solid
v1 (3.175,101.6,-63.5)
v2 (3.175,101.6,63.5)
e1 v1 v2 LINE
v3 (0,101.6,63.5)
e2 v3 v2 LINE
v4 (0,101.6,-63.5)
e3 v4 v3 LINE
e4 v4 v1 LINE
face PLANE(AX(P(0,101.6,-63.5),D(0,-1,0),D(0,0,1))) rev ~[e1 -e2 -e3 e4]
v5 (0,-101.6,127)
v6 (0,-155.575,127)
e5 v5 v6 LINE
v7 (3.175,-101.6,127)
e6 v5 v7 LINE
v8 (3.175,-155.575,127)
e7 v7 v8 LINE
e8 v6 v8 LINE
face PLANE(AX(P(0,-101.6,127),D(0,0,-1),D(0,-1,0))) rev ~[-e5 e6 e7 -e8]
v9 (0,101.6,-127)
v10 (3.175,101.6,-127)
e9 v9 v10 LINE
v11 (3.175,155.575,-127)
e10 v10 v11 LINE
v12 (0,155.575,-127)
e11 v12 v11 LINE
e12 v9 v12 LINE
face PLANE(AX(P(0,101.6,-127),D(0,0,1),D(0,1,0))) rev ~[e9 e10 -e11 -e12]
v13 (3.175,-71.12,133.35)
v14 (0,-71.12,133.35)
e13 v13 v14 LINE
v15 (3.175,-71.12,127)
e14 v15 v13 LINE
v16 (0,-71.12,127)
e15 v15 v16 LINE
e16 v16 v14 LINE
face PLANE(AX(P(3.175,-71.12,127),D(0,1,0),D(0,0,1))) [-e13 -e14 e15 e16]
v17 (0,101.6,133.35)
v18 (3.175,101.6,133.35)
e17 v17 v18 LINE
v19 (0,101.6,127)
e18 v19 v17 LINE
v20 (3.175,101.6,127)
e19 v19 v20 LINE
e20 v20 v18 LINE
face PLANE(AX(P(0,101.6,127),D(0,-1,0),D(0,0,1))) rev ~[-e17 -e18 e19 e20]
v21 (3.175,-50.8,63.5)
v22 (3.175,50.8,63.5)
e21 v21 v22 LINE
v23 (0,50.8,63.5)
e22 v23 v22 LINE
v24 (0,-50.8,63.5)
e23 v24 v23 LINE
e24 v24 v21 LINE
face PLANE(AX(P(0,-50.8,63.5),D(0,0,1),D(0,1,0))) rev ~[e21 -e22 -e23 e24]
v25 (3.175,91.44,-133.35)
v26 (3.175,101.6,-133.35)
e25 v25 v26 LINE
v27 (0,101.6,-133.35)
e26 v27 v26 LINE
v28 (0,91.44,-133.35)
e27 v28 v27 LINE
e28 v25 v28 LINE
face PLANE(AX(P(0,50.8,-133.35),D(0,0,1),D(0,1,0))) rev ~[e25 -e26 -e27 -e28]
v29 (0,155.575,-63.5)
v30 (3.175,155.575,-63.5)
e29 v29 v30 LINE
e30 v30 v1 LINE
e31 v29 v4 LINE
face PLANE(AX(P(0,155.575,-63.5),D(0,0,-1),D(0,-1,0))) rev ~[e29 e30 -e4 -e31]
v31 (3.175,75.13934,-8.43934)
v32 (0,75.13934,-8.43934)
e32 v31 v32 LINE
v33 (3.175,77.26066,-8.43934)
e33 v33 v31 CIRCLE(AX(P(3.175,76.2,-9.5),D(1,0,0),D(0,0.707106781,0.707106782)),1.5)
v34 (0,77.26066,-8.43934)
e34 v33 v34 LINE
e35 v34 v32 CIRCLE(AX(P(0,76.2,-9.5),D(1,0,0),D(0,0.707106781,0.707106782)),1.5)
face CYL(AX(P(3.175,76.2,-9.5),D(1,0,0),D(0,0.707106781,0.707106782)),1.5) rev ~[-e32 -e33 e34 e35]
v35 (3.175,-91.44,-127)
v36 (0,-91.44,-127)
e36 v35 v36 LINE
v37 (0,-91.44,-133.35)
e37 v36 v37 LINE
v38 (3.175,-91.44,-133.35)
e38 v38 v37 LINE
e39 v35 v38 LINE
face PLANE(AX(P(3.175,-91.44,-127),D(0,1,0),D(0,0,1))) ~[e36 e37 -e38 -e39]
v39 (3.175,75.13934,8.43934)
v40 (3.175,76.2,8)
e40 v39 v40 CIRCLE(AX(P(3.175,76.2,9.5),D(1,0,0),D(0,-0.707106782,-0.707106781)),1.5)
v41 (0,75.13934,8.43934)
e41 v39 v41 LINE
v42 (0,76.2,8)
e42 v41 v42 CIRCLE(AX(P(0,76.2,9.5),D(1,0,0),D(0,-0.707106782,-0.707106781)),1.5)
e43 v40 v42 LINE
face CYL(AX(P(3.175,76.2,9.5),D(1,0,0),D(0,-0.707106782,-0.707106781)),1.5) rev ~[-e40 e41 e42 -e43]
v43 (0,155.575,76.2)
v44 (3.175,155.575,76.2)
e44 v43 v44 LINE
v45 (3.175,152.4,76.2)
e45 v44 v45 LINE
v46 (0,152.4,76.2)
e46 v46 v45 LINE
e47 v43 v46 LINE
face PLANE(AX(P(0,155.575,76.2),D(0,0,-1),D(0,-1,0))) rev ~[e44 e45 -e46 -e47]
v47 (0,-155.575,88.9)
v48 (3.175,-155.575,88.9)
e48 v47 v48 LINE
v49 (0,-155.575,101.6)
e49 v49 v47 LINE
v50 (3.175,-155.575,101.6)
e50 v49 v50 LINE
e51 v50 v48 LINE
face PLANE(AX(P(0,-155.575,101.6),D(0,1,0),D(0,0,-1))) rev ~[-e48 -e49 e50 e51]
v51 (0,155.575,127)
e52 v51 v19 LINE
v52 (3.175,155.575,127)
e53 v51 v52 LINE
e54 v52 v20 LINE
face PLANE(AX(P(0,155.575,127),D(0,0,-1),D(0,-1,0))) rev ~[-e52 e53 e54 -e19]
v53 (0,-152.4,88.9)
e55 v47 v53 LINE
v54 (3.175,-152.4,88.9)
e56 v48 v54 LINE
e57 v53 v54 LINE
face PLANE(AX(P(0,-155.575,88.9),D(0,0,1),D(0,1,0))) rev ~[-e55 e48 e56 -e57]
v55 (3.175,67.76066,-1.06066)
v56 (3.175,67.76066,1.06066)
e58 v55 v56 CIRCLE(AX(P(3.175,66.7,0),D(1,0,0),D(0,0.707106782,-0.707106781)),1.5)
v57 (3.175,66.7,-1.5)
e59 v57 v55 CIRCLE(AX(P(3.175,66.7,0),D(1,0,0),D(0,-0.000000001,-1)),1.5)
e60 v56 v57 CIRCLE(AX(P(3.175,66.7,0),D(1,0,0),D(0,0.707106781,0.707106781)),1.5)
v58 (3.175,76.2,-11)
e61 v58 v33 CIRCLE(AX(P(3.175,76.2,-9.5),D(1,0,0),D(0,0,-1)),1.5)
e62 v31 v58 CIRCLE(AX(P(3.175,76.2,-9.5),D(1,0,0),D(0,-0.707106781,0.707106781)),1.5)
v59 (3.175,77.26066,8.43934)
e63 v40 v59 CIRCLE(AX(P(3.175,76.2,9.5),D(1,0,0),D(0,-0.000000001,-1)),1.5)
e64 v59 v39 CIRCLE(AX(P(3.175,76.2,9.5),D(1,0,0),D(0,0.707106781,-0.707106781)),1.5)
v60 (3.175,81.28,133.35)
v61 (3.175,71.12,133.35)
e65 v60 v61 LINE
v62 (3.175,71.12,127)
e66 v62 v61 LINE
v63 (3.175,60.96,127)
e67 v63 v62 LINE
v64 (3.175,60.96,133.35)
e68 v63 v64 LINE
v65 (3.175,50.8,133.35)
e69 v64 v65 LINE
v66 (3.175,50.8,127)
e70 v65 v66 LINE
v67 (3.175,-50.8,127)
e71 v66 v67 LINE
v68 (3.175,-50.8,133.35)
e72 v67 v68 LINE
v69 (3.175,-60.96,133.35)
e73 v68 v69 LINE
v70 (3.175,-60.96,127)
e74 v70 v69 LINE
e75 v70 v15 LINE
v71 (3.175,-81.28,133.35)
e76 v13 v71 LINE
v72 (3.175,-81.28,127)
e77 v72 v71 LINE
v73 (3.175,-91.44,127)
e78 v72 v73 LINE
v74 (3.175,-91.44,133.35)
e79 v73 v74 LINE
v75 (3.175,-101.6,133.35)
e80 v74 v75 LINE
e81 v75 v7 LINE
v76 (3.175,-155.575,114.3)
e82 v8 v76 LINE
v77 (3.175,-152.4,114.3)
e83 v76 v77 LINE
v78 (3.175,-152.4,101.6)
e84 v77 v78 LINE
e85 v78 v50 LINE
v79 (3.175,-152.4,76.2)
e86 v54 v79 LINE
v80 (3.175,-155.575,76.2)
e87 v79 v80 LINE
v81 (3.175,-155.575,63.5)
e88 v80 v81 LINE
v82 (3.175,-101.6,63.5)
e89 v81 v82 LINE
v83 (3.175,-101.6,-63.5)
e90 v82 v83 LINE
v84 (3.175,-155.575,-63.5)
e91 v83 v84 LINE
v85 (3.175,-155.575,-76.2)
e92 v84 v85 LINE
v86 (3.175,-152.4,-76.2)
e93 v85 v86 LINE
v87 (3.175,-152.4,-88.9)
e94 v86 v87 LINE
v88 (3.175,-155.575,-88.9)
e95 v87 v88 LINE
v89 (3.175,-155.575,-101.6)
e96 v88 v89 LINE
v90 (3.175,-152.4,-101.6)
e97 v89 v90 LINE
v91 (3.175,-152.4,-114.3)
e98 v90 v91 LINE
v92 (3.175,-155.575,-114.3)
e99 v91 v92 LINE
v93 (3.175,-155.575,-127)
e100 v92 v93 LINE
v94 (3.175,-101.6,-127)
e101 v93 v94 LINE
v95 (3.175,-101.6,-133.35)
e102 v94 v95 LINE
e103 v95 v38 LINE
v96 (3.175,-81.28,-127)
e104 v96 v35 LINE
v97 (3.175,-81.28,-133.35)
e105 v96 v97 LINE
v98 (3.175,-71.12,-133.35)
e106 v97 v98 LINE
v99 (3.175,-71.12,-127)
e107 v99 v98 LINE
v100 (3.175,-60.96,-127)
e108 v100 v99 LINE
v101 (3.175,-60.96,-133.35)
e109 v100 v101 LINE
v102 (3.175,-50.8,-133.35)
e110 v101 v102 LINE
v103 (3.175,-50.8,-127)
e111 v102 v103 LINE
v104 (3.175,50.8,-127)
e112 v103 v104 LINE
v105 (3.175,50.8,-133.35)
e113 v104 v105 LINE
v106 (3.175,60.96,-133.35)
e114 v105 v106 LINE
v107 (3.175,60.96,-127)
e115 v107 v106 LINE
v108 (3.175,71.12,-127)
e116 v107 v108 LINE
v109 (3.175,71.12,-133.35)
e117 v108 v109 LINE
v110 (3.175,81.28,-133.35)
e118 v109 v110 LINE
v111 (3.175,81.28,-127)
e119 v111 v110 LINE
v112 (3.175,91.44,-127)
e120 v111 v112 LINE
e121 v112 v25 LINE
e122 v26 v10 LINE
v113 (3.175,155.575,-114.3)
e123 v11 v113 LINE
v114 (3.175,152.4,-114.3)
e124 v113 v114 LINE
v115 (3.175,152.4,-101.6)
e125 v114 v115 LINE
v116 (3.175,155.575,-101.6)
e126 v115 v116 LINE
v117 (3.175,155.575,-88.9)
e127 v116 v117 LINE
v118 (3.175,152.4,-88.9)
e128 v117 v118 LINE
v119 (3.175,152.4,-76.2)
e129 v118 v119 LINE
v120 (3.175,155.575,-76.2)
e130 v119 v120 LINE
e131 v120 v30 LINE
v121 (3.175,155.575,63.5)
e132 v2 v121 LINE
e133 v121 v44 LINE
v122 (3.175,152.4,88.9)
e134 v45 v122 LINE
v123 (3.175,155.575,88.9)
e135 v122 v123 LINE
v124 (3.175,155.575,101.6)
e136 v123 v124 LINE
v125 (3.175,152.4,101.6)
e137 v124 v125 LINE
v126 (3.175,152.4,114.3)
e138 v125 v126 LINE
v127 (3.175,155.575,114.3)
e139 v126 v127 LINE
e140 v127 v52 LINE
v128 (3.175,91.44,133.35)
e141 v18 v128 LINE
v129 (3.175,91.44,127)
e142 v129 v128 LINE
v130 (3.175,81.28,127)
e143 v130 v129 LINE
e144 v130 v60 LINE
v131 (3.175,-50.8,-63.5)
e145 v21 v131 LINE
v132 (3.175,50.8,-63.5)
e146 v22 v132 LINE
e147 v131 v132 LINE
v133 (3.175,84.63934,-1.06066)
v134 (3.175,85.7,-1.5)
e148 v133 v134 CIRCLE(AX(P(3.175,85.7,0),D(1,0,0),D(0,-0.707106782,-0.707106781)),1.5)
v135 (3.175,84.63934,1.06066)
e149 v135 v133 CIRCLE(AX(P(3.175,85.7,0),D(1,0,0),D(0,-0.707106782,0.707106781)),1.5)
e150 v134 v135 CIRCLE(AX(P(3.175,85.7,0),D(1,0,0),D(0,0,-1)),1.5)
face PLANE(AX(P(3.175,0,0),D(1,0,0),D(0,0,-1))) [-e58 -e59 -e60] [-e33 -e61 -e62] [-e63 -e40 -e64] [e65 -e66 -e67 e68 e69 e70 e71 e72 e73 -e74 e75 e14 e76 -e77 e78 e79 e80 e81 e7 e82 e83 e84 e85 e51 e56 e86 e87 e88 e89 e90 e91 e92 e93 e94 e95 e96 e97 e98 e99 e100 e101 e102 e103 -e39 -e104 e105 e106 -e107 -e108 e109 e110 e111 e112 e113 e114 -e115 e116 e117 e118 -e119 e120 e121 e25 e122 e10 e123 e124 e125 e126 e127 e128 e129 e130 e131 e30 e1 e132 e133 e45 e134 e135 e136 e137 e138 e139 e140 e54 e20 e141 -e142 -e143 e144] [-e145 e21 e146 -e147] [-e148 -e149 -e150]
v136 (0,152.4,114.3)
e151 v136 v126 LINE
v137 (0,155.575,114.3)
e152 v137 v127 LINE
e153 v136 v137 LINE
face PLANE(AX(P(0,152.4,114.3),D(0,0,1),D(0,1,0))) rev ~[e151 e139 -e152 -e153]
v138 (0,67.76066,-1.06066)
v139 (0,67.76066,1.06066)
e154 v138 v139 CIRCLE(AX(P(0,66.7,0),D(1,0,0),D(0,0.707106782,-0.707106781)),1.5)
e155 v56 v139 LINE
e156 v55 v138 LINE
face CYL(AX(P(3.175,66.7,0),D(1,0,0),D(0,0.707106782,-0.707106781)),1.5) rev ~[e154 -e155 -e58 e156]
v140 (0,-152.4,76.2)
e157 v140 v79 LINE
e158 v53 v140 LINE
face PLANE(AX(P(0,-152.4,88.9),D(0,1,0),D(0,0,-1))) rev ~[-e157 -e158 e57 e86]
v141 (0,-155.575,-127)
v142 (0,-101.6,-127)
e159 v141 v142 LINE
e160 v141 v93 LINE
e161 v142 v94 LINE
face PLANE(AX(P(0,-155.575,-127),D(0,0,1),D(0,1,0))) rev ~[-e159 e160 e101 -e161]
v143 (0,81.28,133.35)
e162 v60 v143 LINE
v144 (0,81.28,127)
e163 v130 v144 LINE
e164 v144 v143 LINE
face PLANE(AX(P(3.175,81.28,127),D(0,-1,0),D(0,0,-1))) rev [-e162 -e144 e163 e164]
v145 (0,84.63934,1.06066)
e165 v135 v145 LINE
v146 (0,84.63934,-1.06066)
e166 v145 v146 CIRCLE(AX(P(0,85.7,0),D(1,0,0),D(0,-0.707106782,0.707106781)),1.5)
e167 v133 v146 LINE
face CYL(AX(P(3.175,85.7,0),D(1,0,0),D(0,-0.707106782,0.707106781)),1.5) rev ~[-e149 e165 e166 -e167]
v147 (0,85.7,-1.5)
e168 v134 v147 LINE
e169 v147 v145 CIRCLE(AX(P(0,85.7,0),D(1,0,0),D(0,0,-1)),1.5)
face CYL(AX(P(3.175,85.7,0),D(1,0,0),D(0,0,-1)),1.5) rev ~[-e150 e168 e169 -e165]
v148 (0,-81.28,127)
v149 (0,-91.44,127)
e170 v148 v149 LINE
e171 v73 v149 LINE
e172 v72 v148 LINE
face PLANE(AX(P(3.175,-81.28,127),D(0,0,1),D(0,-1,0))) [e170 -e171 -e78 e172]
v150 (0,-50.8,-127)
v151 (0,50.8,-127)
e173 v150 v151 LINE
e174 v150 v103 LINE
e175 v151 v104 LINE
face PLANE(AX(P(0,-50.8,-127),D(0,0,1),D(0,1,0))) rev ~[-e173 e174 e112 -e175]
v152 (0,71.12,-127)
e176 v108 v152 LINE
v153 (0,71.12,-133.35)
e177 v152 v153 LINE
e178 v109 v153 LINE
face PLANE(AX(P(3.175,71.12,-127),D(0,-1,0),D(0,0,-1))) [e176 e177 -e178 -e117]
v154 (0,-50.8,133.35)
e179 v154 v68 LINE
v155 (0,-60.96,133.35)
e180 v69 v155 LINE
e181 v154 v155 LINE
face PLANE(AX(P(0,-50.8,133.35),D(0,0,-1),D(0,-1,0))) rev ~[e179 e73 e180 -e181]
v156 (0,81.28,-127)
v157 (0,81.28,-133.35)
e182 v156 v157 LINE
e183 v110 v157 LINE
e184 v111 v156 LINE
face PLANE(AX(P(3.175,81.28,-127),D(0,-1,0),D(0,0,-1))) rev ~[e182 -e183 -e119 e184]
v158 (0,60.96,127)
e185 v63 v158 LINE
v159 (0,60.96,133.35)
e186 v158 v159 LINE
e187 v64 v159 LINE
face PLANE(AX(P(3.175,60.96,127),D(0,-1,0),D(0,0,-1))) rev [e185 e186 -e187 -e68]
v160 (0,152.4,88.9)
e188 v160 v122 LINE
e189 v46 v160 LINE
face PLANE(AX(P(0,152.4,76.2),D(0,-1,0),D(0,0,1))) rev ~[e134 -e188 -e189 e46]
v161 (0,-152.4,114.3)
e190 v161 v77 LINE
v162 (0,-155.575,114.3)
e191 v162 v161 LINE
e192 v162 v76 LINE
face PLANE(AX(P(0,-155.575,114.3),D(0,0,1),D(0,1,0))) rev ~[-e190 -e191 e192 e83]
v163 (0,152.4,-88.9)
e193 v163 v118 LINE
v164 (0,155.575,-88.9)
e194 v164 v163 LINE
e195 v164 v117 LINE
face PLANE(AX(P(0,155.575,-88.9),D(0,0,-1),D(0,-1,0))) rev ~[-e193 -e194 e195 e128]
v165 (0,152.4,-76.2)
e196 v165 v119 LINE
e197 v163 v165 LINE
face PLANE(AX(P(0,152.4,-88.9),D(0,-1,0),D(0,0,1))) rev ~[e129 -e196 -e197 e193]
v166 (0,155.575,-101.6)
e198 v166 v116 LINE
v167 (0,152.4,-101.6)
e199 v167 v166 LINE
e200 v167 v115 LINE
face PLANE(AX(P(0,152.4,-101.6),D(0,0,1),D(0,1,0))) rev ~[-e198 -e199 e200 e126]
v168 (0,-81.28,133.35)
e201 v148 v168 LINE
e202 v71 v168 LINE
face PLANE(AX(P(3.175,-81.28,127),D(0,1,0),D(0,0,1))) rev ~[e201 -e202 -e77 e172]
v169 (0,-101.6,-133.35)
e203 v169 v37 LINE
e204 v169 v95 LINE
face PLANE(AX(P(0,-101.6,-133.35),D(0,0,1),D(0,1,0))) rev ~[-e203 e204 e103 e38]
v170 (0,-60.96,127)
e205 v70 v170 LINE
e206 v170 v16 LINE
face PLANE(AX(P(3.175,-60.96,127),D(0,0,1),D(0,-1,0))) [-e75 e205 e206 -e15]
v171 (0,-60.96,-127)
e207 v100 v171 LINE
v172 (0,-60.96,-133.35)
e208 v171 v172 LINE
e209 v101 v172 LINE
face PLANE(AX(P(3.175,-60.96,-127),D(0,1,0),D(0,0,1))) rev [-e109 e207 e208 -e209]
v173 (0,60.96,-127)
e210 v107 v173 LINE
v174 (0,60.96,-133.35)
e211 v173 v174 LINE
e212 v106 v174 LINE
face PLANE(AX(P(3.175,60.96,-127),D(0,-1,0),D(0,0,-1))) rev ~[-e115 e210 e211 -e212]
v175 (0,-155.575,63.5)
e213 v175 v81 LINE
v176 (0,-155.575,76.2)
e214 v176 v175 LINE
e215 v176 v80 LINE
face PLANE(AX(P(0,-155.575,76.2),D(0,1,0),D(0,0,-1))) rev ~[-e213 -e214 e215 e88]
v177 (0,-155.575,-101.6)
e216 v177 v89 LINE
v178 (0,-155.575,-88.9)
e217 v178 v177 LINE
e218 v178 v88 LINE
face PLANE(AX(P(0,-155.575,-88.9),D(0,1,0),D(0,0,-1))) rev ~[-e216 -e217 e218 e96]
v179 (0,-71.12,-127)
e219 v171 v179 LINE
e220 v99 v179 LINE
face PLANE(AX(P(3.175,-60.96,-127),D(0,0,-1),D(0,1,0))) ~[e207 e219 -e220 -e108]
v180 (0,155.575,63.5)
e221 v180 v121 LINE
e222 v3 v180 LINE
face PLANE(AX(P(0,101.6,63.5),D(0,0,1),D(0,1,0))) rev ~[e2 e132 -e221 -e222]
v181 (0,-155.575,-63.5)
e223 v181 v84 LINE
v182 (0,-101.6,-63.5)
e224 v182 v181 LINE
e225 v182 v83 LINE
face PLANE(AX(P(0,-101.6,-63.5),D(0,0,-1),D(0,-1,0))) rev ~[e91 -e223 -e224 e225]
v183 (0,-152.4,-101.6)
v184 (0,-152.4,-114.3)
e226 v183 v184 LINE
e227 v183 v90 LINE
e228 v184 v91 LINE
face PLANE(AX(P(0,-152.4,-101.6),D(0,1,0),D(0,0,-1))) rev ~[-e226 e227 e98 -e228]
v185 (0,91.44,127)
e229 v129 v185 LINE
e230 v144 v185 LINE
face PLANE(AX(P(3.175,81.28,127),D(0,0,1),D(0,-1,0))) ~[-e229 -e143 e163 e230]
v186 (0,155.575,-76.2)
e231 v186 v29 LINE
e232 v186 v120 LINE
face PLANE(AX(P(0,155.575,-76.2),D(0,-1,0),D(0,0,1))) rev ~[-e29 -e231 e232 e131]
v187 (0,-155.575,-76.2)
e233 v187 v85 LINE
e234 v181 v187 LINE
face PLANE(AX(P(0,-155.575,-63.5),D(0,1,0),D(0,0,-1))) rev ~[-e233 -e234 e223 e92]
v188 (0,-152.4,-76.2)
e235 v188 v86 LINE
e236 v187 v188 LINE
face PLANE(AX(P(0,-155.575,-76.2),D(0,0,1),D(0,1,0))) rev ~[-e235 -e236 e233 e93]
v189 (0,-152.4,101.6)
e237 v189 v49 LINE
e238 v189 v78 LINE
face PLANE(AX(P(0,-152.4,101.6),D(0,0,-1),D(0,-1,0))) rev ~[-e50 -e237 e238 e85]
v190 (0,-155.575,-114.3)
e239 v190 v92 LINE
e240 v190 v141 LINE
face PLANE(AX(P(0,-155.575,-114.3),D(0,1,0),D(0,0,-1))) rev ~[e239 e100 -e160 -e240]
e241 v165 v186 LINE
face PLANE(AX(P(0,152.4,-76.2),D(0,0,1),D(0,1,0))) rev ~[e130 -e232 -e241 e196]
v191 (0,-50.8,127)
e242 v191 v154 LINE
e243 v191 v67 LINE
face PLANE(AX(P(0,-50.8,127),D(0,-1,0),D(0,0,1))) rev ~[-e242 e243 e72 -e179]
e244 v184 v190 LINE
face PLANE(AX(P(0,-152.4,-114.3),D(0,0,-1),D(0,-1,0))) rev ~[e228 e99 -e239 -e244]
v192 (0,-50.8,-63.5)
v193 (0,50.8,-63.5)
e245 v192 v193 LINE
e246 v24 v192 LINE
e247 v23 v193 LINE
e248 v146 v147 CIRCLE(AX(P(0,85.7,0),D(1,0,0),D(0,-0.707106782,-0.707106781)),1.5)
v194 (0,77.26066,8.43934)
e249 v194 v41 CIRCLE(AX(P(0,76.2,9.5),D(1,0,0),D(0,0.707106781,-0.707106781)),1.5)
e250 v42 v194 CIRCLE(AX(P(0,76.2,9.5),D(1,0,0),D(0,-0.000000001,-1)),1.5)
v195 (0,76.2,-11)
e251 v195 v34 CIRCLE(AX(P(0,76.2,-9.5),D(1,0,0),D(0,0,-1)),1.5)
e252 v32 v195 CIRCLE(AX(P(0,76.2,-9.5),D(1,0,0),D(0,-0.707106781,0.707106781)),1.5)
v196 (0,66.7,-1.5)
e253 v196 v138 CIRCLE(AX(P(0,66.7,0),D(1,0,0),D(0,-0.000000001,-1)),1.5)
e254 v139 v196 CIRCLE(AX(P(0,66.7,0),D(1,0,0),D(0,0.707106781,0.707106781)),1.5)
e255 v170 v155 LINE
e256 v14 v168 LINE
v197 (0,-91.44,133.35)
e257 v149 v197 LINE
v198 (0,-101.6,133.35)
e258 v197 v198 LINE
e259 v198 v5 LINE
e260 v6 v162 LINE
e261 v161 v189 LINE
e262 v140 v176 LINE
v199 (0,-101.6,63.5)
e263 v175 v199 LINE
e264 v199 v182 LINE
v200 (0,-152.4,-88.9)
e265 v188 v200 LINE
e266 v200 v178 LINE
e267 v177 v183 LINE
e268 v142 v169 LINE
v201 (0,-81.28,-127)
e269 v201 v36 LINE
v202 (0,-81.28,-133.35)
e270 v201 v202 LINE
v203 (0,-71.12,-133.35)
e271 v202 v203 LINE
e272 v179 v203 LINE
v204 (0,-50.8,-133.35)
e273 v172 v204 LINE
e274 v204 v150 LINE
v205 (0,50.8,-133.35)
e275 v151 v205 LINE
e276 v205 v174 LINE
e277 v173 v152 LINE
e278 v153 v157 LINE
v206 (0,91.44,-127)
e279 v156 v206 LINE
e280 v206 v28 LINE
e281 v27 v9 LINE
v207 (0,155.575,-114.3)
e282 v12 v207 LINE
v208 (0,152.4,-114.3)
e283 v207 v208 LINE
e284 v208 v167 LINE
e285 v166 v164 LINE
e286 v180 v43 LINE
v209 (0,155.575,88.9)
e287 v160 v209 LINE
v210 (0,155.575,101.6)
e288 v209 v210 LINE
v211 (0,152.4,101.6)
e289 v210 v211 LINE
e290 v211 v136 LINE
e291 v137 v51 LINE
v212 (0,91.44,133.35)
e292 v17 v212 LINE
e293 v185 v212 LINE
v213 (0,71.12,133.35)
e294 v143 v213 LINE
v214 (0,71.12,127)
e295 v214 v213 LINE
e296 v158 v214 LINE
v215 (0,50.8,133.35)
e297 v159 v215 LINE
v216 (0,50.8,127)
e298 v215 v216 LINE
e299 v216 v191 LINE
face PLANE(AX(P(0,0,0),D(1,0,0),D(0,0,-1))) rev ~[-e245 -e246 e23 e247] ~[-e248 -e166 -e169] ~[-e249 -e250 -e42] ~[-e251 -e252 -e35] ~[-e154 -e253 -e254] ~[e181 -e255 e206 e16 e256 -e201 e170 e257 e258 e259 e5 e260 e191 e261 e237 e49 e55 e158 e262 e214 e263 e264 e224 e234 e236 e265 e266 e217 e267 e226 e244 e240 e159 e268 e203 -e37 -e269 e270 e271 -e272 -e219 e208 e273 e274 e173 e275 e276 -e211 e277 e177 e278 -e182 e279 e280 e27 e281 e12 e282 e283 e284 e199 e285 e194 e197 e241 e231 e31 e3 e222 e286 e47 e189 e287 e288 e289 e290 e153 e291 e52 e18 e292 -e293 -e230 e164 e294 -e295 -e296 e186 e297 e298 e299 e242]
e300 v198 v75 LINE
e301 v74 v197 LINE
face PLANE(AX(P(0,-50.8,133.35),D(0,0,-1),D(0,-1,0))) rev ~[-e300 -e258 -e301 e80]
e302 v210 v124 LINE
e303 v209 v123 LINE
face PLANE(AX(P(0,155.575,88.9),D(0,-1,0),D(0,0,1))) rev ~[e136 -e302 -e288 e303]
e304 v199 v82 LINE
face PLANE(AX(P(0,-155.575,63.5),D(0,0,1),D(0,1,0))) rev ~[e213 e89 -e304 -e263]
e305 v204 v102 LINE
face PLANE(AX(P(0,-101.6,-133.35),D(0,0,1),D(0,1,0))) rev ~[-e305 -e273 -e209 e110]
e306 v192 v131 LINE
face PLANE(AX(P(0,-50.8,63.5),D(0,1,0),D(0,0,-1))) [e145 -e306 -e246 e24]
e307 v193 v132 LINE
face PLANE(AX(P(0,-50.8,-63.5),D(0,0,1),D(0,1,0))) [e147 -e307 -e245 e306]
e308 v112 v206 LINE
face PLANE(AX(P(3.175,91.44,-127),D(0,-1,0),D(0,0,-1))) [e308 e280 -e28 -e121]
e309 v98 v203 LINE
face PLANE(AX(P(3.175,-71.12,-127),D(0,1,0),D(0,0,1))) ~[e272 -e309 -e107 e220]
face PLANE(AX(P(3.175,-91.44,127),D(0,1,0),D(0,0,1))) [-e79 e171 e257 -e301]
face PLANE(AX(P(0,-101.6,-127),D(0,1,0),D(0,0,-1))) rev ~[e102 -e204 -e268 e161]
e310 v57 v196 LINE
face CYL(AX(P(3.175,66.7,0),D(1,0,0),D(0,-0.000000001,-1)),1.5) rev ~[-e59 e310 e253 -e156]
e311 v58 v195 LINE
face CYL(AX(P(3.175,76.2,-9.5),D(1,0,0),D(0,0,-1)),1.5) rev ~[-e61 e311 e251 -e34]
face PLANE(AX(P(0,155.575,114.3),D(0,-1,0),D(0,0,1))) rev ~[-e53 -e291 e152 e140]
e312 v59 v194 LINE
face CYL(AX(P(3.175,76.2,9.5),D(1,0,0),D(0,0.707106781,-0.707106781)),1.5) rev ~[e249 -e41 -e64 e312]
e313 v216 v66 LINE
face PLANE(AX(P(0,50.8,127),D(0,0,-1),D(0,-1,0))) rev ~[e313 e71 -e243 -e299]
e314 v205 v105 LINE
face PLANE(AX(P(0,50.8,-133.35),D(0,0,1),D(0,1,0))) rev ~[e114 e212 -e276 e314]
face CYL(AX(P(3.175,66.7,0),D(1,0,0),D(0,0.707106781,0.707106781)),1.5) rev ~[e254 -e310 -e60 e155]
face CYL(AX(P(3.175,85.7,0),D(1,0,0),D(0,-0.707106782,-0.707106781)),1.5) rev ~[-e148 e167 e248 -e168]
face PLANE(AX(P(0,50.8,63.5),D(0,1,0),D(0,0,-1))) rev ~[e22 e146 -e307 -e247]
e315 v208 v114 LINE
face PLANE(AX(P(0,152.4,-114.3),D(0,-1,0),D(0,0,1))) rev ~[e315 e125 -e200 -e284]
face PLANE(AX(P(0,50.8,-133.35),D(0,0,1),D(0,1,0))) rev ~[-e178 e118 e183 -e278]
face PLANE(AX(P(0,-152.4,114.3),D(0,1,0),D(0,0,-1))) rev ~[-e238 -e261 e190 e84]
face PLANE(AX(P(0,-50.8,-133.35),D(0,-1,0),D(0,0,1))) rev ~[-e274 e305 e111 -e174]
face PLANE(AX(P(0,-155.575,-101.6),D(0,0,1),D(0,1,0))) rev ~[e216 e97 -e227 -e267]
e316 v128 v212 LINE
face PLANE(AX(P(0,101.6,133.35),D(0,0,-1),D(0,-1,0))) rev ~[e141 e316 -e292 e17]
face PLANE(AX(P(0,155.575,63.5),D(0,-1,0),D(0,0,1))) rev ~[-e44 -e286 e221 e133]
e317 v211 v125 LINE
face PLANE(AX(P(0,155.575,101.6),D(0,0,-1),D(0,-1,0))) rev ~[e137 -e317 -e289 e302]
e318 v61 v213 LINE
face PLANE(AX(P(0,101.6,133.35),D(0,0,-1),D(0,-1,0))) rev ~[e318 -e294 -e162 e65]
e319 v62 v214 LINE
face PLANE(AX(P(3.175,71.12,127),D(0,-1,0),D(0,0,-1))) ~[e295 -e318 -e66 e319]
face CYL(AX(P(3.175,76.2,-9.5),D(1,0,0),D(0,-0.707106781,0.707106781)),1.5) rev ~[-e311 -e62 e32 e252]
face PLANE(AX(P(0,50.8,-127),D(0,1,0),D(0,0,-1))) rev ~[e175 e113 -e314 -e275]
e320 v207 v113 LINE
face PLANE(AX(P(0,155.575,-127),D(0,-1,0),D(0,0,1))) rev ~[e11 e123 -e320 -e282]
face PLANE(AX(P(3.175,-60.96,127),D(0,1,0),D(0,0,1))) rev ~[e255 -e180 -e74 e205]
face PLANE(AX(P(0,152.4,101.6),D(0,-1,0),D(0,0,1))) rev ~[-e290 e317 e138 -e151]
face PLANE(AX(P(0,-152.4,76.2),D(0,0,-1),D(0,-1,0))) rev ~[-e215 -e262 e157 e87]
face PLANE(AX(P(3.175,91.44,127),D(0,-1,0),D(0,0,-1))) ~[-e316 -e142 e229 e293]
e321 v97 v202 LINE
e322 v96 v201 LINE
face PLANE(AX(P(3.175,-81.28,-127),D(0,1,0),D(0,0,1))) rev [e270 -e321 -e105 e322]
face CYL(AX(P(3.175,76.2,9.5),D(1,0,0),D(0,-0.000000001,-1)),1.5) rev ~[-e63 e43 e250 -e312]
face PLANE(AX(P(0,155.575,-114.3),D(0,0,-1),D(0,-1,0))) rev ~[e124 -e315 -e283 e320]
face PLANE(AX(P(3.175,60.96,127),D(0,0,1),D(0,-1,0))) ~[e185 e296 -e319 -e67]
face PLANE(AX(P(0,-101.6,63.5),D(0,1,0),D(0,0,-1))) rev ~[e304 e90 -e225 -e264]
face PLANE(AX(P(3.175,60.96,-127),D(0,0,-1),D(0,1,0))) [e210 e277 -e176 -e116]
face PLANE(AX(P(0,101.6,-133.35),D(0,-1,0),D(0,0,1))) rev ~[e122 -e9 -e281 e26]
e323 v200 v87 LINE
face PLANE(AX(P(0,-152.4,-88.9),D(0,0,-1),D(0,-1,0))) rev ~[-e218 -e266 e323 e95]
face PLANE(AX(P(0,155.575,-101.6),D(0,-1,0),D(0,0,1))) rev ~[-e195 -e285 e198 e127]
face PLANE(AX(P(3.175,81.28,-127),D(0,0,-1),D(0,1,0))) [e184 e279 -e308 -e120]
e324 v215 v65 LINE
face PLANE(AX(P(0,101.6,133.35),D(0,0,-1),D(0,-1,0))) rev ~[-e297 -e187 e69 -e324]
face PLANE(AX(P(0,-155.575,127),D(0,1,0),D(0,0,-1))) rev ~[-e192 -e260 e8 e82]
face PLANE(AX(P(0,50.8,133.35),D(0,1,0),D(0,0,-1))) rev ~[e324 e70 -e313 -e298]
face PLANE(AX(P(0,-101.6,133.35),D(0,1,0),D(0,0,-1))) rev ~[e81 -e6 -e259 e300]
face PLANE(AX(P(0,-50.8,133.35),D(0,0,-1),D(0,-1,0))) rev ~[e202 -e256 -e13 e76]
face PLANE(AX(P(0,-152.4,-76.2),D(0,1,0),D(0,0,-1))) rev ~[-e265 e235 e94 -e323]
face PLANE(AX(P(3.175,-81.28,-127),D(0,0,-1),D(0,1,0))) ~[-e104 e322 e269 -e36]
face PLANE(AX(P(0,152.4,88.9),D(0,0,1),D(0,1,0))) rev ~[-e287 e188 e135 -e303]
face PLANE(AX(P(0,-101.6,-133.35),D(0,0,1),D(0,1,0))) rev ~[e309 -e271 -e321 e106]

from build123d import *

# Parameters (mm, degrees)
SKETCH1_W               = 127
SKETCH1_H               = 101.6
BOSS_EXTRUDE1_DEPTH     = 3.175
CUT_EXTRUDE3_DEPTH      = 3.175
SKETCH4_W               = 6.35
SKETCH4_H               = 10.16
CUT_EXTRUDE4_DEPTH      = 3.175
MIRROR4_COPY_1_SKETCH_W = 6.35
MIRROR4_COPY_1_SKETCH_H = 10.16
MIRROR4_COPY_1_DEPTH    = 3.175


with BuildPart() as part:
    # Sketch1 → Boss-Extrude1 (new body)
    with BuildSketch(Plane(origin=(0, 0, 0), x_dir=(0, 0, -1), z_dir=(1, 0, 0))):
        Polygon((-127, -101.6), (-127, -155.575), (-114.3, -155.575), (-114.3, -152.4), (-101.6, -152.4), (-101.6, -155.575), (-88.9, -155.575), (-88.9, -152.4), (-76.2, -152.4), (-76.2, -155.575), (-63.5, -155.575), (-63.5, -101.6), (63.5, -101.6), (63.5, -155.575), (76.2, -155.575), (76.2, -152.4), (88.9, -152.4), (88.9, -155.575), (101.6, -155.575), (101.6, -152.4), (114.3, -152.4), (114.3, -155.575), (127, -155.575), (127, -101.6), (133.35, -101.6), (133.35, -50.8), (127, -50.8), (127, 50.8), (133.35, 50.8), (133.35, 101.6), (127, 101.6), (127, 155.575), (114.3, 155.575), (114.3, 152.4), (101.6, 152.4), (101.6, 155.575), (88.9, 155.575), (88.9, 152.4), (76.2, 152.4), (76.2, 155.575), (63.5, 155.575), (63.5, 101.6), (-63.5, 101.6), (-63.5, 155.575), (-76.2, 155.575), (-76.2, 152.4), (-88.9, 152.4), (-88.9, 155.575), (-101.6, 155.575), (-101.6, 152.4), (-114.3, 152.4), (-114.3, 155.575), (-127, 155.575), (-127, 101.6), (-133.35, 101.6), (-133.35, 50.8), (-127, 50.8), (-127, -50.8), (-133.35, -50.8), (-133.35, -101.6), align=None)
        Rectangle(SKETCH1_W, SKETCH1_H, mode=Mode.SUBTRACT)
    extrude(amount=BOSS_EXTRUDE1_DEPTH)

    # Sketch3 → Cut-Extrude3 (cut)
    with BuildSketch(Plane(origin=(3.175, 0, 0), x_dir=(0, 0, -1), z_dir=(1, 0, 0))):
        with BuildLine():
            Line((1.060660172, 84.639339828), (0, 85.7))
            Line((0, 85.7), (-1.060660172, 84.639339828))
            ThreePointArc((-1.060660172, 84.639339828), (0, 84.2), (1.060660172, 84.639339828))
        make_face()
        with BuildLine():
            Line((-1.060660172, 84.639339828), (0, 85.7))
            Line((0, 85.7), (1.060660172, 84.639339828))
            ThreePointArc((1.060660172, 84.639339828), (1.385819299, 85.125974851), (1.5, 85.7))
            ThreePointArc((1.5, 85.7), (-0.574025149, 87.085819299), (-1.060660172, 84.639339828))
        make_face()
        with BuildLine():
            ThreePointArc((1.060660172, 67.760660172), (0, 68.2), (-1.060660172, 67.760660172))
            Line((-1.060660172, 67.760660172), (0, 66.7))
            Line((0, 66.7), (1.060660172, 67.760660172))
        make_face()
        with BuildLine():
            Line((0, 66.7), (-1.060660172, 67.760660172))
            ThreePointArc((-1.060660172, 67.760660172), (-0.574025149, 65.314180701), (1.5, 66.7))
            ThreePointArc((1.5, 66.7), (1.385819299, 67.274025149), (1.060660172, 67.760660172))
            Line((1.060660172, 67.760660172), (0, 66.7))
        make_face()
        with BuildLine():
            ThreePointArc((11, 76.2), (10.074025149, 77.585819299), (8.439339828, 77.260660172))
            Line((8.439339828, 77.260660172), (9.5, 76.2))
            Line((9.5, 76.2), (8.439339828, 75.139339828))
            ThreePointArc((8.439339828, 75.139339828), (10.074025149, 74.814180701), (11, 76.2))
        make_face()
        with BuildLine():
            Line((9.5, 76.2), (8.439339828, 77.260660172))
            ThreePointArc((8.439339828, 77.260660172), (8, 76.2), (8.439339828, 75.139339828))
            Line((8.439339828, 75.139339828), (9.5, 76.2))
        make_face()
        with BuildLine():
            ThreePointArc((-8, 76.2), (-8.114180701, 76.774025149), (-8.439339828, 77.260660172))
            Line((-8.439339828, 77.260660172), (-9.5, 76.2))
            Line((-9.5, 76.2), (-8.439339828, 75.139339828))
            ThreePointArc((-8.439339828, 75.139339828), (-8.114180701, 75.625974851), (-8, 76.2))
        make_face()
        with BuildLine():
            Line((-9.5, 76.2), (-8.439339828, 77.260660172))
            ThreePointArc((-8.439339828, 77.260660172), (-11, 76.2), (-8.439339828, 75.139339828))
            Line((-8.439339828, 75.139339828), (-9.5, 76.2))
        make_face()
    extrude(amount=-CUT_EXTRUDE3_DEPTH, mode=Mode.SUBTRACT)

    # Sketch4 → Cut-Extrude4 (cut)
    with BuildSketch(Plane(origin=(3.175, 0, 0), x_dir=(0, 0, -1), z_dir=(1, 0, 0))):
        with Locations((130.175, 86.36)):
            Rectangle(SKETCH4_W, SKETCH4_H)
        with Locations((130.175, 66.04)):
            Rectangle(SKETCH4_W, SKETCH4_H)
    cut_extrude4 = extrude(amount=-CUT_EXTRUDE4_DEPTH, mode=Mode.SUBTRACT)

    # Mirror3: Cut-Extrude4 across plane
    add(cut_extrude4.mirror(Plane.ZX), mode=Mode.SUBTRACT)

    # Mirror4: Cut-Extrude4 across plane
    add(cut_extrude4.mirror(Plane.XY), mode=Mode.SUBTRACT)

    # Mirror4 copy 1 sketch → Mirror4 copy 1 (cut)
    with BuildSketch(Plane(origin=(3.175, 0, 0), x_dir=(0, 0, 1), z_dir=(1, 0, 0))):
        with Locations((130.175, 86.36)):
            Rectangle(MIRROR4_COPY_1_SKETCH_W, MIRROR4_COPY_1_SKETCH_H)
        with Locations((130.175, 66.04)):
            Rectangle(MIRROR4_COPY_1_SKETCH_W, MIRROR4_COPY_1_SKETCH_H)
    extrude(amount=-MIRROR4_COPY_1_DEPTH, mode=Mode.SUBTRACT)


solid = part.part
